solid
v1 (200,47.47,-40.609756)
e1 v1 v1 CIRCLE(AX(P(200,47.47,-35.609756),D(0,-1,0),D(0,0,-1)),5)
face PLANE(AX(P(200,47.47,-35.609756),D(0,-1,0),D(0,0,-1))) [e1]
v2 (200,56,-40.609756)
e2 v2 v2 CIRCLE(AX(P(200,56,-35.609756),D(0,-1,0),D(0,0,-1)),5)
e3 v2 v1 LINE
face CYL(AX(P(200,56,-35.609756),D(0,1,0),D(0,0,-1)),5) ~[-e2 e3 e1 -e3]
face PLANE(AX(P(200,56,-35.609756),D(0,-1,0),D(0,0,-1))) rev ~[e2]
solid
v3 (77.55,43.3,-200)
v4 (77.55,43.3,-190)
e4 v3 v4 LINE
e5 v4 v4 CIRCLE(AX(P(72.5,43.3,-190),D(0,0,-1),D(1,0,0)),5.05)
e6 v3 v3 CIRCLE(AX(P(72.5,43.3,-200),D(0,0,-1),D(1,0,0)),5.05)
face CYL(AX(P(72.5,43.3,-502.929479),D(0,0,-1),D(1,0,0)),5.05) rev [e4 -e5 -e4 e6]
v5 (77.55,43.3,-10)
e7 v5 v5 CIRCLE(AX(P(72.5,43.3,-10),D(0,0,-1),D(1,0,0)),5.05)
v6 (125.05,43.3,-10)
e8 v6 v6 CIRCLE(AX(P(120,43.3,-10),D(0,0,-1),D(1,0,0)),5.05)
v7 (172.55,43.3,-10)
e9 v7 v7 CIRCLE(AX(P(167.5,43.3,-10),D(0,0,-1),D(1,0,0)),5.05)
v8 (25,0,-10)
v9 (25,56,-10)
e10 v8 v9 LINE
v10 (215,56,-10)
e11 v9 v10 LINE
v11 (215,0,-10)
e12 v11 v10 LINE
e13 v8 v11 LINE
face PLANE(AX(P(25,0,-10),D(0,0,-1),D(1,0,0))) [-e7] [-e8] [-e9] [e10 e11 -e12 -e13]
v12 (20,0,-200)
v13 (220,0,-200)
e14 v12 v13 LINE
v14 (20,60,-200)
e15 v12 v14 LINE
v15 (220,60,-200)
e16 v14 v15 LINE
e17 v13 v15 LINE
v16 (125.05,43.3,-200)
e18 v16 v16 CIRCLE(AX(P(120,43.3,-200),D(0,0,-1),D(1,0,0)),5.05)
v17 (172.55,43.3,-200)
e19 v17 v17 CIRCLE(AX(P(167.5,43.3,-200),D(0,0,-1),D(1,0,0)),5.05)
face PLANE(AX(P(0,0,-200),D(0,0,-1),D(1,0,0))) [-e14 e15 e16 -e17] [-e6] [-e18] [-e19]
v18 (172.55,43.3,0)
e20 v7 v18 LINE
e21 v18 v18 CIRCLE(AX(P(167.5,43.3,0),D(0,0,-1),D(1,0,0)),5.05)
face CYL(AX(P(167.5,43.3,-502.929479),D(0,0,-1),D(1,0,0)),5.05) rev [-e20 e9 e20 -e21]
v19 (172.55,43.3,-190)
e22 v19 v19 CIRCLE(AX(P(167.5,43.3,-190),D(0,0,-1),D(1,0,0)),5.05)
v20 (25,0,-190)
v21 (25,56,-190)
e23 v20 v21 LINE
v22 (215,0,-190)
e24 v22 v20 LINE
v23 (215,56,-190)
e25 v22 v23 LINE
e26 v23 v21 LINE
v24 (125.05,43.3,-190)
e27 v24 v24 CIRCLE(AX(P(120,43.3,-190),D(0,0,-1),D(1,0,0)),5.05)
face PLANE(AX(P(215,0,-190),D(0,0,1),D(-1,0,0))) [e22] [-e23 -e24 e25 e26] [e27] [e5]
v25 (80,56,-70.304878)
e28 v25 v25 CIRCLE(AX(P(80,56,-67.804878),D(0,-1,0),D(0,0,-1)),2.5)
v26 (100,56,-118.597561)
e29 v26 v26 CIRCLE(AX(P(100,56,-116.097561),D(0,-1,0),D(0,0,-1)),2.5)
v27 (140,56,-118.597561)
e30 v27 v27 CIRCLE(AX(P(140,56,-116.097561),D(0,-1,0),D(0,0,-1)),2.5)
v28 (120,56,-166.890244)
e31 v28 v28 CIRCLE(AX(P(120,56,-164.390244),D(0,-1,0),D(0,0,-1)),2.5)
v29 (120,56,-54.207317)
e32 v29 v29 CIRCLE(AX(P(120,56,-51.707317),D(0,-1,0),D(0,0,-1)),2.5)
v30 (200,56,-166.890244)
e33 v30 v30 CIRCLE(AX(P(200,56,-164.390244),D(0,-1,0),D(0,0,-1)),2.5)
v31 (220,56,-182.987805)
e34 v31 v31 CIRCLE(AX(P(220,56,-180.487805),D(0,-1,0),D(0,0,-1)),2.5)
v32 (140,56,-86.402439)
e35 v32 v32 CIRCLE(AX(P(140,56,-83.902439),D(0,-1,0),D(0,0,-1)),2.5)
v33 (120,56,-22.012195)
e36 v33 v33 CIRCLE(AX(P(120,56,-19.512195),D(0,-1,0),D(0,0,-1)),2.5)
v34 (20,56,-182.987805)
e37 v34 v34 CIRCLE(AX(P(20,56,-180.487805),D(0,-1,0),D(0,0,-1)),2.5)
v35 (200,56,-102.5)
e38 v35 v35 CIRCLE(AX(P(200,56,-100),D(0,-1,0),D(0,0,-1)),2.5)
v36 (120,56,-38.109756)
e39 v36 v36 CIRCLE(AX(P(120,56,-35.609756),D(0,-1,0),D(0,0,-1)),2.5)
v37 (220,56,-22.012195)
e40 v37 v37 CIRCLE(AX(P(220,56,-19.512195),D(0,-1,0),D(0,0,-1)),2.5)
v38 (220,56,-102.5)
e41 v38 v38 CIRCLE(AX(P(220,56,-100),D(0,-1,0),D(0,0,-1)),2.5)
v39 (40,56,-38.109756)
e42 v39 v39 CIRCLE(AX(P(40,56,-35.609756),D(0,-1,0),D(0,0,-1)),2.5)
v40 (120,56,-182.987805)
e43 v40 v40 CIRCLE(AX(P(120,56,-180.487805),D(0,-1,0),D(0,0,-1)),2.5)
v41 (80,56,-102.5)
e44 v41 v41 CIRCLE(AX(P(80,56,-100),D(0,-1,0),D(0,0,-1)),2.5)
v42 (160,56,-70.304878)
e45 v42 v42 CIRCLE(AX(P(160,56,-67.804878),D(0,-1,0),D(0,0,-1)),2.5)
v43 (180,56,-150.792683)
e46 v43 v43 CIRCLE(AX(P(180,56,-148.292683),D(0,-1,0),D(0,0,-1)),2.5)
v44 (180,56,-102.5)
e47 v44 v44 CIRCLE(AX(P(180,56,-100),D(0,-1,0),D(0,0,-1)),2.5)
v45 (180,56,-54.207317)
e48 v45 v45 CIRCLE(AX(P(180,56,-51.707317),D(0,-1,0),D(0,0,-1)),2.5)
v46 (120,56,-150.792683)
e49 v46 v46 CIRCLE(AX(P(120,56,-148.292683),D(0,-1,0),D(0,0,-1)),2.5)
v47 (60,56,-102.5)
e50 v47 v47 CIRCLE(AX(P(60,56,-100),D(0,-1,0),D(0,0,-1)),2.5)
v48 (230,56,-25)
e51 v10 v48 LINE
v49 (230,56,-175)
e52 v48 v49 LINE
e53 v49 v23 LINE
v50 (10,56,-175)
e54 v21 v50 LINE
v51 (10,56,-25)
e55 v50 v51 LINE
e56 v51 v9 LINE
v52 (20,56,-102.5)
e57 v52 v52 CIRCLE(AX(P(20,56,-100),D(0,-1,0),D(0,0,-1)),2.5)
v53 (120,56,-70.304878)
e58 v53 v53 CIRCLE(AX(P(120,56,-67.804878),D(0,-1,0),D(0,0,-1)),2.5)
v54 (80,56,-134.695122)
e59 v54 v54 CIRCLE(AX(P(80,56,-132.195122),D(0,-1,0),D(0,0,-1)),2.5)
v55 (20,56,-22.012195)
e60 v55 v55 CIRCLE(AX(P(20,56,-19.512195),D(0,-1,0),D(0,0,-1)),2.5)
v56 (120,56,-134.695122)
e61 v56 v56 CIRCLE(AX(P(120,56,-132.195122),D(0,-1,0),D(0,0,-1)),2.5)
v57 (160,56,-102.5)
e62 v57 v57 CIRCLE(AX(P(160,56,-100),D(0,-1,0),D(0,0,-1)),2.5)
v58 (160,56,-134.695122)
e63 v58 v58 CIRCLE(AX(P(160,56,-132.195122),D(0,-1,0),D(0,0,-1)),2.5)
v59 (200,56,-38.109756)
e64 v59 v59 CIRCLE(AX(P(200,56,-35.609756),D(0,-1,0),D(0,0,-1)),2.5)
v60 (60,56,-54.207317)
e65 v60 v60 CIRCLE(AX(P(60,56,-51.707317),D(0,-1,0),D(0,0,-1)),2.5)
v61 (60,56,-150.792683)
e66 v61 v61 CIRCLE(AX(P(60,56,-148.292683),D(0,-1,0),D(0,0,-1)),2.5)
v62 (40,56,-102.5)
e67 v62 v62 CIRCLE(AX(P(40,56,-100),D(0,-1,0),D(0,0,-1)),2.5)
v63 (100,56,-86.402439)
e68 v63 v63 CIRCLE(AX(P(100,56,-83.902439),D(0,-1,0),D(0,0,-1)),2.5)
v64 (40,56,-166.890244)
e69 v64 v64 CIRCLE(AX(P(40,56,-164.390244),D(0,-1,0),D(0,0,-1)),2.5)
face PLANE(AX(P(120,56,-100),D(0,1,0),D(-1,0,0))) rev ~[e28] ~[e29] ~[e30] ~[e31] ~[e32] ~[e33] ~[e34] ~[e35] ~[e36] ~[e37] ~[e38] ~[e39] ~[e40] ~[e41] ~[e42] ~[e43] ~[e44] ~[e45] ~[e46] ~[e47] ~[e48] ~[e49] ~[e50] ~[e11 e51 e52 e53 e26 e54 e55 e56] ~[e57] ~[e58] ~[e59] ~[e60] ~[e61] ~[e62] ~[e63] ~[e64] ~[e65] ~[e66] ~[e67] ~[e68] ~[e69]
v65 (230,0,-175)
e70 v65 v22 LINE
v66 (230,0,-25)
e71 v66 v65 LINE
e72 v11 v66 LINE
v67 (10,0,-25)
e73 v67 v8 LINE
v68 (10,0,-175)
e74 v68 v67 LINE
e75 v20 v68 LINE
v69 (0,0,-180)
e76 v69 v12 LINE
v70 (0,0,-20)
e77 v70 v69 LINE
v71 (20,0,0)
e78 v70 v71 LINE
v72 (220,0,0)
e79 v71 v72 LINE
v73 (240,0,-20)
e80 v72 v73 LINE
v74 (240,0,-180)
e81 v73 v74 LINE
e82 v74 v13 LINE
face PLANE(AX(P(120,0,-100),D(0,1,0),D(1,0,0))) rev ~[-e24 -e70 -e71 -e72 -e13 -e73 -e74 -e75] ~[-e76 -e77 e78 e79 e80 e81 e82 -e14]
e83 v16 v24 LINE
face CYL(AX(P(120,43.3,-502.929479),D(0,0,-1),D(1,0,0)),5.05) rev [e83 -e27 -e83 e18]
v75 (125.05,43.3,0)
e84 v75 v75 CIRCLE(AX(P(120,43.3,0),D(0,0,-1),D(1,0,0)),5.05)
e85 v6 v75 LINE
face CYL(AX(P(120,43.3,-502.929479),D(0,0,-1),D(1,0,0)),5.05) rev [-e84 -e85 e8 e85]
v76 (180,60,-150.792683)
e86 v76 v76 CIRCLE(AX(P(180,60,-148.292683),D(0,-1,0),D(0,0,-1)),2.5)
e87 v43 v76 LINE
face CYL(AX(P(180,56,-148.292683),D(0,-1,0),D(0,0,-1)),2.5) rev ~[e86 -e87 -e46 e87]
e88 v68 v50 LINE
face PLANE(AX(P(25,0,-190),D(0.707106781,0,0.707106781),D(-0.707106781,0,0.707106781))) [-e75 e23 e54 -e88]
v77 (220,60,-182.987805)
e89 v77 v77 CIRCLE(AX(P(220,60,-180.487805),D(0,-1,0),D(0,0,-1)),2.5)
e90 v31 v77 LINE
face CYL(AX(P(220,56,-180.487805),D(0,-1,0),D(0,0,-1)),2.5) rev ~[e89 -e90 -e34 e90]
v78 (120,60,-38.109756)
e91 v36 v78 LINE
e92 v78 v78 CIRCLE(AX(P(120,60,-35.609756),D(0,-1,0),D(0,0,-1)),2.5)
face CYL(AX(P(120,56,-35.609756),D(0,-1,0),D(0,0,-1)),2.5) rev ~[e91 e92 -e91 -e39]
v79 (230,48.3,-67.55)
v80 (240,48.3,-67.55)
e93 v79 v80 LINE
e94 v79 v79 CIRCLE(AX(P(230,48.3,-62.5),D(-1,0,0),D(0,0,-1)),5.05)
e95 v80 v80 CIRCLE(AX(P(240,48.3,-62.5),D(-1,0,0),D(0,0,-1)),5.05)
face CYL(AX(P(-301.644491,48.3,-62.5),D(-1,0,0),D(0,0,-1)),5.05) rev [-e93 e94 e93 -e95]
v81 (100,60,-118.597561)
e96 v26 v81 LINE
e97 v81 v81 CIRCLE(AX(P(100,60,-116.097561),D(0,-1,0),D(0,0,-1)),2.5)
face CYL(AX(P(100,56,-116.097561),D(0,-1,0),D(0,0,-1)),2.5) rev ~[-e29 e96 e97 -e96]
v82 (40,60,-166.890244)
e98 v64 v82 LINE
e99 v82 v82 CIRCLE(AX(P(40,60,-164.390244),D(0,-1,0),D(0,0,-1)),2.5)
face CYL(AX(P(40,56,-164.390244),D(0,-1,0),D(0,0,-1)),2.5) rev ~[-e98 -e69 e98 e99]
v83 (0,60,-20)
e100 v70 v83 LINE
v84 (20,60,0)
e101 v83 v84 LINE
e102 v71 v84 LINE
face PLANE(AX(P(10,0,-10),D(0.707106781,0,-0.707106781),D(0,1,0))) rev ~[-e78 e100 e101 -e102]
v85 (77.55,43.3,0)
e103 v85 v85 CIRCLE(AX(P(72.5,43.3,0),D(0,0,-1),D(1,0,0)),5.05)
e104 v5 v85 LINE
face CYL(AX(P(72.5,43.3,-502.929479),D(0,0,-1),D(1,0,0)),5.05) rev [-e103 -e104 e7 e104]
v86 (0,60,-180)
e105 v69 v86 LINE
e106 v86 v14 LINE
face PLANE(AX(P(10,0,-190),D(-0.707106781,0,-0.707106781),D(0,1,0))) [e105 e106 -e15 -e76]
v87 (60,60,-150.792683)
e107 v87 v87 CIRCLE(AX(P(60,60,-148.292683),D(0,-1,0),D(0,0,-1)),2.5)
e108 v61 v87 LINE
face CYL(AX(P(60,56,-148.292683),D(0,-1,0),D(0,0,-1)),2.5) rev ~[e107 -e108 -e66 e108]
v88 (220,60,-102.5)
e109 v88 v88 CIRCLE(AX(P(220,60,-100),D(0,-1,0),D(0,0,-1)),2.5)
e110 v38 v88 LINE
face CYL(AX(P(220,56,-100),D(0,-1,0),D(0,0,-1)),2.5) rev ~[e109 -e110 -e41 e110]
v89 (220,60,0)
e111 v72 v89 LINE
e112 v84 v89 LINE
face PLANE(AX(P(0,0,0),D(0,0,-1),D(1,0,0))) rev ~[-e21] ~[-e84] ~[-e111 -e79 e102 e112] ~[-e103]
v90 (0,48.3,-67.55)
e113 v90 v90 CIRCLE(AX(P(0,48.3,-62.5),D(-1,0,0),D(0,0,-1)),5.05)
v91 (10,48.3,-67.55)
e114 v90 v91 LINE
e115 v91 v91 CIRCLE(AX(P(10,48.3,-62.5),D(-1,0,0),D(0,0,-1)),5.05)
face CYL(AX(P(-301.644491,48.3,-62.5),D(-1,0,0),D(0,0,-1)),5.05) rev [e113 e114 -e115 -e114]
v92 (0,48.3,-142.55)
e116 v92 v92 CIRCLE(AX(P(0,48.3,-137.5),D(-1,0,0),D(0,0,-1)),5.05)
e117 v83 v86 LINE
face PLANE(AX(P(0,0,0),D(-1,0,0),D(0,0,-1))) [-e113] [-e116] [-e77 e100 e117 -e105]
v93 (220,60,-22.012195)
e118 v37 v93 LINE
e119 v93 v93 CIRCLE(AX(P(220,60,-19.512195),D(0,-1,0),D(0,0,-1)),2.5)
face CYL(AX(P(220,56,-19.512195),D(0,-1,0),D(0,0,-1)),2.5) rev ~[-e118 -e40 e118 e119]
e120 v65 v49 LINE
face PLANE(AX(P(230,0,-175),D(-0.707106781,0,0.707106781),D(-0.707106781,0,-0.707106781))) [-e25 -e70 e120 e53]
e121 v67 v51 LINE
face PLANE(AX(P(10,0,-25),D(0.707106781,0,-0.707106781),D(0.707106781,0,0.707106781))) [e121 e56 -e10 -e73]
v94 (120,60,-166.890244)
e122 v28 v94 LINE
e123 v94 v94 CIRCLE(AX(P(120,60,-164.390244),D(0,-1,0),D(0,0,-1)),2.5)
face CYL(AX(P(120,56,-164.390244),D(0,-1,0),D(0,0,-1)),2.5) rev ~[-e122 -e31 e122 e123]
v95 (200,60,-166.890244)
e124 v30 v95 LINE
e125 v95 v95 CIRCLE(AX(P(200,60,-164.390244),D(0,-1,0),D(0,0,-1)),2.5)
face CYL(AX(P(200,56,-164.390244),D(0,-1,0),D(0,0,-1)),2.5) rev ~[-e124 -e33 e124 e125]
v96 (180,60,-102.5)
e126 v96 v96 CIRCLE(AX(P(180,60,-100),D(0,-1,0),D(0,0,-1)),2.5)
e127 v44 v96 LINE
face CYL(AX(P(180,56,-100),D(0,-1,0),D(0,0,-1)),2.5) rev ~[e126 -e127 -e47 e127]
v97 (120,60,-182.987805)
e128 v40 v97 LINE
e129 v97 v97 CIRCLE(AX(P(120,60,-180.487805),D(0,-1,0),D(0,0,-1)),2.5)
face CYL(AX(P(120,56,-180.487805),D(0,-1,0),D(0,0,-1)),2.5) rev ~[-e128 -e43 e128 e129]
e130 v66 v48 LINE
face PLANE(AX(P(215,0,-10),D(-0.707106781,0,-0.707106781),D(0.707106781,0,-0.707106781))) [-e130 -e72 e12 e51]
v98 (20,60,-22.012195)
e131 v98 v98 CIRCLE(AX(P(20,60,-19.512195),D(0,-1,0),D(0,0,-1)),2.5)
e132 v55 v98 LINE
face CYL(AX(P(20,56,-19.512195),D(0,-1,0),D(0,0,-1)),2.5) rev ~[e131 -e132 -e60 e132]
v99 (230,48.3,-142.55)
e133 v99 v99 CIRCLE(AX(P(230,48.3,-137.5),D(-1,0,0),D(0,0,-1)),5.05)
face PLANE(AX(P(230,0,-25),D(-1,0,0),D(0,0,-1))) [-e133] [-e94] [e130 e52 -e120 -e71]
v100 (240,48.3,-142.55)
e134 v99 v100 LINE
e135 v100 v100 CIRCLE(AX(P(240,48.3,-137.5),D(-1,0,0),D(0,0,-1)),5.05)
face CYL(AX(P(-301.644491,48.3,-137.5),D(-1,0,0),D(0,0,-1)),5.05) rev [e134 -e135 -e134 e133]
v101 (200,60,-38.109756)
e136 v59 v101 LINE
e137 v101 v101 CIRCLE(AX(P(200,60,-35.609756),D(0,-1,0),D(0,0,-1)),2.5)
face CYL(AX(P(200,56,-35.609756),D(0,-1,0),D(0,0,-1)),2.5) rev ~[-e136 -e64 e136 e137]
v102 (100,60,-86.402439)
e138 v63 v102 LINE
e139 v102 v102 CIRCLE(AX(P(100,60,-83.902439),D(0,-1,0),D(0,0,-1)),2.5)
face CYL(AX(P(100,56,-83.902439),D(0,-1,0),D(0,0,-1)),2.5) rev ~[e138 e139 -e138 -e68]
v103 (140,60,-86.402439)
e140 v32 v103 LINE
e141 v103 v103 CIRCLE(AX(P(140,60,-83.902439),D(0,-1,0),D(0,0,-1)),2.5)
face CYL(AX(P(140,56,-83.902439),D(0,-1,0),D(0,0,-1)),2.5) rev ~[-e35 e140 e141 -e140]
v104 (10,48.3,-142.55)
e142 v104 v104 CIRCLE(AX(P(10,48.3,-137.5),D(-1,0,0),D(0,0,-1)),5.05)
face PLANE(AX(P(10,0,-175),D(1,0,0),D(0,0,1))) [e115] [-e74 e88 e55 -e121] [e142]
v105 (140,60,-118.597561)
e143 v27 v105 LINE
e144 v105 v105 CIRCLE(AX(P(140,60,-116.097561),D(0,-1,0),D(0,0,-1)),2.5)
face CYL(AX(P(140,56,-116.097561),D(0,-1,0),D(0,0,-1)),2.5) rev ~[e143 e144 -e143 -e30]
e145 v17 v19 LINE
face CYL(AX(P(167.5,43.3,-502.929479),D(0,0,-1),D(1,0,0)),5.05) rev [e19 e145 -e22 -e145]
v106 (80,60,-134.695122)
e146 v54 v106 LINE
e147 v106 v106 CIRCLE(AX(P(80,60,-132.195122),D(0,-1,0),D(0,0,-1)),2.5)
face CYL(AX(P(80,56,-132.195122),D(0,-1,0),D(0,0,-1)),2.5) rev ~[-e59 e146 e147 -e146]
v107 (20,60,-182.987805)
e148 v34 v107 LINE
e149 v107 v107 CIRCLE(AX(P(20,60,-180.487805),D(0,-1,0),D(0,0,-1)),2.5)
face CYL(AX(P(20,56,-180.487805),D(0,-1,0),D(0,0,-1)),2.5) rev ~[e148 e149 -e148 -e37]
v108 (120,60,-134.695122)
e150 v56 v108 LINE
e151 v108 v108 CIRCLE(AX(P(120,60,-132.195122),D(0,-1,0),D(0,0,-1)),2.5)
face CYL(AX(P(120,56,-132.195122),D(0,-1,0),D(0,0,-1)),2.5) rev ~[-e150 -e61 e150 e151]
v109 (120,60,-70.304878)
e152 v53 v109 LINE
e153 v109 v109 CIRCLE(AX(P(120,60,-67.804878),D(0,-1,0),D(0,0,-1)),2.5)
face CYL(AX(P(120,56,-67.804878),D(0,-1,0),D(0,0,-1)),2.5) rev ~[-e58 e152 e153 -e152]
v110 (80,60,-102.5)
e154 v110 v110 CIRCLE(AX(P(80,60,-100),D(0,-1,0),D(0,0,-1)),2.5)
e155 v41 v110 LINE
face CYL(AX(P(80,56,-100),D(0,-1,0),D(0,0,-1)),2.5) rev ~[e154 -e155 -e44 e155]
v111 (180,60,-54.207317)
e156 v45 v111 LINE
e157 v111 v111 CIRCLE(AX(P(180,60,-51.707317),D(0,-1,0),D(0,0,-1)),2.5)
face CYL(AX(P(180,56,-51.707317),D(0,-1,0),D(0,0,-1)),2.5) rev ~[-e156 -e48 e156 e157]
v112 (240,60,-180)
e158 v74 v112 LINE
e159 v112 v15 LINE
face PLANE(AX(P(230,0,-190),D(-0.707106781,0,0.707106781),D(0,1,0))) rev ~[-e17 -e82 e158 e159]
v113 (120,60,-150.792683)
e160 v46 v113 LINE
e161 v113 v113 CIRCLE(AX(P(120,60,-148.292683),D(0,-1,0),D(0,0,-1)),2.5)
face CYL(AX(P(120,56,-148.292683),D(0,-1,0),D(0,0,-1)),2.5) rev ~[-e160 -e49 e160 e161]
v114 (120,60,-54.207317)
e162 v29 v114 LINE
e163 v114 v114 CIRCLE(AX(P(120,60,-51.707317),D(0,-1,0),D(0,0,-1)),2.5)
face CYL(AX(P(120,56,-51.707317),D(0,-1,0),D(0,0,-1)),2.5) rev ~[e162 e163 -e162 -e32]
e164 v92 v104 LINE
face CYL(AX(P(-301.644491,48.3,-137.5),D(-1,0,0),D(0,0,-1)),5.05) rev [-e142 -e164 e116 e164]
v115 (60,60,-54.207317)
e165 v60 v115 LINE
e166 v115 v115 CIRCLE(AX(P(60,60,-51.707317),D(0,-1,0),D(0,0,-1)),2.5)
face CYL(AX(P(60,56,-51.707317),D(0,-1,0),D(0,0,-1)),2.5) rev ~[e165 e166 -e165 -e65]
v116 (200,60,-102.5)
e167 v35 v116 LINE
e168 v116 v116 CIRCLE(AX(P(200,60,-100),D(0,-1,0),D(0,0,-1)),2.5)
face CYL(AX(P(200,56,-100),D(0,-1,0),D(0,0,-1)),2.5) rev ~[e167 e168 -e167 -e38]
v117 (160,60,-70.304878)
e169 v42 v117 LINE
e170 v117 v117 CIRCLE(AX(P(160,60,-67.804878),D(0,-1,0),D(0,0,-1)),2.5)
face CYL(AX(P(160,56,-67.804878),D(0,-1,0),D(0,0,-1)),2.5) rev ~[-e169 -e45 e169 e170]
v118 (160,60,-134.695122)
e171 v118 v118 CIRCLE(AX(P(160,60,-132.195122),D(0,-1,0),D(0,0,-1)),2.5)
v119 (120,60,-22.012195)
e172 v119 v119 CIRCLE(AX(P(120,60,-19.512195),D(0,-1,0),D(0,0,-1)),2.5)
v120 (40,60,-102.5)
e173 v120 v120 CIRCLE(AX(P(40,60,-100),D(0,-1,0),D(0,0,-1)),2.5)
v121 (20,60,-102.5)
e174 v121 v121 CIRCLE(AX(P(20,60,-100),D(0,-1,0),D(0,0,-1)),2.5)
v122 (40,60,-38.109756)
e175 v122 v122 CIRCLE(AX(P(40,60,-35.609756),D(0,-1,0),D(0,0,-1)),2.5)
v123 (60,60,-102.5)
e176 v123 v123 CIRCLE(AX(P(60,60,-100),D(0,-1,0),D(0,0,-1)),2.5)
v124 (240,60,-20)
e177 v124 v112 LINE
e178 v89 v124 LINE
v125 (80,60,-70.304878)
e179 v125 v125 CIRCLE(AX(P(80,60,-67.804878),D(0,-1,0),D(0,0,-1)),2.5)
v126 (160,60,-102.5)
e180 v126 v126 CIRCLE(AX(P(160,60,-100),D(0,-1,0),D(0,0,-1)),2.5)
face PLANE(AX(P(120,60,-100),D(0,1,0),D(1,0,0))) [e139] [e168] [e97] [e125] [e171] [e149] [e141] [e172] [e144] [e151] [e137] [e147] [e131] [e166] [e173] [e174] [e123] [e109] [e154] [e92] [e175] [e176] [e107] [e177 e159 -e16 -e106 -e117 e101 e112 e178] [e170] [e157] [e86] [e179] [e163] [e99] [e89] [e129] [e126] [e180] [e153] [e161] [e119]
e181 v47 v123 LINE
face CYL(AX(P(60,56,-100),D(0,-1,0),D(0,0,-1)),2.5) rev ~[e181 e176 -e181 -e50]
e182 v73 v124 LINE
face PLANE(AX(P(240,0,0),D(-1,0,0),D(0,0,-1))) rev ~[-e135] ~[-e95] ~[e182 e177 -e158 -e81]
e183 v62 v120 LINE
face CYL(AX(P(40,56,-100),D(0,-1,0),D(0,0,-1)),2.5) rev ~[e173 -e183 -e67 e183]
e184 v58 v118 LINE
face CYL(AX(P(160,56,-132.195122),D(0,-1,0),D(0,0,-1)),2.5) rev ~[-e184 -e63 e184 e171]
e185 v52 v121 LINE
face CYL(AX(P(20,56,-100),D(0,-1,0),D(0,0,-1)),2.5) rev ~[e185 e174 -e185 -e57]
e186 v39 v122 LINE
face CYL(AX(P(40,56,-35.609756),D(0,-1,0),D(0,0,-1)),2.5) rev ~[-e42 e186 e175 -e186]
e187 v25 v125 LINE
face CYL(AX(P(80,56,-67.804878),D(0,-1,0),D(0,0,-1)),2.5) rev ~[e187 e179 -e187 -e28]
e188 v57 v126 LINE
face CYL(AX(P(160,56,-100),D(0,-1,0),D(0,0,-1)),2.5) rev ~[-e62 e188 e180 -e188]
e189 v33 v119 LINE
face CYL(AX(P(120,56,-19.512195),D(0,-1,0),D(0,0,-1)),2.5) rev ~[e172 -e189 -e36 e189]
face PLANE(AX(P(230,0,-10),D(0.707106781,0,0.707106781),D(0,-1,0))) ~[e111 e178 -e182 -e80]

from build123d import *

# Parameters (mm, degrees)
SKETCH1_W                = 240
SKETCH1_H                = 200
BOSS_EXTRUDE1_DEPTH      = 60
CHAMFER1_SIZE            = 20
CUT_EXTRUDE1_DEPTH       = 56
SKETCH21_R               = 2.5
CUT_EXTRUDE16_DEPTH      = 54
CUT_EXTRUDE17_DEPTH      = 312.92947921
CUT_EXTRUDE17_DEPTH_BACK = 312.92947921
SKETCH24_R               = 5.05
CUT_EXTRUDE18_DEPTH      = 311.64449134
CUT_EXTRUDE18_DEPTH_BACK = 311.64449134
SKETCH27_R               = 5.05
SKETCH30_R               = 5
BOSS_EXTRUDE2_DEPTH      = 8.53


with BuildPart() as part:
    # Sketch1 → Boss-Extrude1 (new body)
    with BuildSketch(Plane(origin=(0, 0, 0), x_dir=(1, 0, 0), z_dir=(0, 1, 0))):
        with Locations((120, 100)):
            Rectangle(SKETCH1_W, SKETCH1_H)
    extrude(amount=BOSS_EXTRUDE1_DEPTH)

    # Chamfer1
    chamfer1_edges = [part.edges().sort_by_distance(p)[0] for p in [
        (0, 30, -200),
        (240, 30, -200),
        (240, 30, 0),
        (0, 30, 0),
    ]]
    chamfer(chamfer1_edges, length=CHAMFER1_SIZE)

    # Sketch2 → Cut-Extrude1 (cut)
    with BuildSketch(Plane.XZ):
        Polygon((10, -175), (10, -25), (25, -10), (215, -10), (230, -25), (230, -175), (215, -190), (25, -190), align=None)
    extrude(amount=-CUT_EXTRUDE1_DEPTH, mode=Mode.SUBTRACT)

    # Sketch21 → Cut-Extrude16 (cut)
    with BuildSketch(Plane.XZ.offset(-56)):
        with Locations(Location((20, -19.512195122, 0), (0, 0, 270))):
            Circle(SKETCH21_R)
        with Locations(Location((40, -35.609756098, 0), (0, 0, 270))):
            Circle(SKETCH21_R)
        with Locations(Location((60, -51.707317073, 0), (0, 0, 270))):
            Circle(SKETCH21_R)
        with Locations(Location((80, -67.804878049, 0), (0, 0, 270))):
            Circle(SKETCH21_R)
        with Locations(Location((100, -83.902439024, 0), (0, 0, 270))):
            Circle(SKETCH21_R)
        with Locations(Location((120, -19.512195122, 0), (0, 0, 270))):
            Circle(SKETCH21_R)
        with Locations(Location((120, -35.609756098, 0), (0, 0, 270))):
            Circle(SKETCH21_R)
        with Locations(Location((120, -51.707317073, 0), (0, 0, 270))):
            Circle(SKETCH21_R)
        with Locations(Location((120, -67.804878049, 0), (0, 0, 270))):
            Circle(SKETCH21_R)
        with Locations(Location((140, -83.902439024, 0), (0, 0, 270))):
            Circle(SKETCH21_R)
        with Locations(Location((160, -67.804878049, 0), (0, 0, 270))):
            Circle(SKETCH21_R)
        with Locations(Location((180, -51.707317073, 0), (0, 0, 270))):
            Circle(SKETCH21_R)
        with Locations(Location((200, -35.609756098, 0), (0, 0, 270))):
            Circle(SKETCH21_R)
        with Locations(Location((220, -19.512195122, 0), (0, 0, 270))):
            Circle(SKETCH21_R)
        with Locations(Location((220, -100, 0), (0, 0, 270))):
            Circle(SKETCH21_R)
        with Locations(Location((200, -100, 0), (0, 0, 270))):
            Circle(SKETCH21_R)
        with Locations(Location((180, -100, 0), (0, 0, 270))):
            Circle(SKETCH21_R)
        with Locations(Location((160, -100, 0), (0, 0, 270))):
            Circle(SKETCH21_R)
        with Locations(Location((140, -116.097560976, 0), (0, 0, 270))):
            Circle(SKETCH21_R)
        with Locations(Location((160, -132.195121951, 0), (0, 0, 270))):
            Circle(SKETCH21_R)
        with Locations(Location((180, -148.292682927, 0), (0, 0, 270))):
            Circle(SKETCH21_R)
        with Locations(Location((200, -164.390243902, 0), (0, 0, 270))):
            Circle(SKETCH21_R)
        with Locations(Location((220, -180.487804878, 0), (0, 0, 270))):
            Circle(SKETCH21_R)
        with Locations(Location((120, -180.487804878, 0), (0, 0, 270))):
            Circle(SKETCH21_R)
        with Locations(Location((120, -164.390243902, 0), (0, 0, 270))):
            Circle(SKETCH21_R)
        with Locations(Location((120, -148.292682927, 0), (0, 0, 270))):
            Circle(SKETCH21_R)
        with Locations(Location((120, -132.195121951, 0), (0, 0, 270))):
            Circle(SKETCH21_R)
        with Locations(Location((100, -116.097560976, 0), (0, 0, 270))):
            Circle(SKETCH21_R)
        with Locations(Location((80, -132.195121951, 0), (0, 0, 270))):
            Circle(SKETCH21_R)
        with Locations(Location((60, -148.292682927, 0), (0, 0, 270))):
            Circle(SKETCH21_R)
        with Locations(Location((40, -164.390243902, 0), (0, 0, 270))):
            Circle(SKETCH21_R)
        with Locations(Location((20, -180.487804878, 0), (0, 0, 270))):
            Circle(SKETCH21_R)
        with Locations(Location((20, -100, 0), (0, 0, 270))):
            Circle(SKETCH21_R)
        with Locations(Location((40, -100, 0), (0, 0, 270))):
            Circle(SKETCH21_R)
        with Locations(Location((60, -100, 0), (0, 0, 270))):
            Circle(SKETCH21_R)
        with Locations(Location((80, -100, 0), (0, 0, 270))):
            Circle(SKETCH21_R)
    extrude(amount=-CUT_EXTRUDE16_DEPTH, mode=Mode.SUBTRACT)

    # Sketch24 → Cut-Extrude17 (cut, two sides: drawn at the far end of the back side and taken through both)
    with BuildSketch(Plane.XY.offset(-190).offset(-CUT_EXTRUDE17_DEPTH_BACK)):
        with Locations((120, 43.3)):
            Circle(SKETCH24_R)
        with Locations((72.5, 43.3)):
            Circle(SKETCH24_R)
        with Locations((167.5, 43.3)):
            Circle(SKETCH24_R)
    extrude(amount=CUT_EXTRUDE17_DEPTH + CUT_EXTRUDE17_DEPTH_BACK, mode=Mode.SUBTRACT)

    # Sketch27 → Cut-Extrude18 (cut, two sides: drawn at the far end of the back side and taken through both)
    with BuildSketch(Plane(origin=(10, 0, 0), x_dir=(0, 0, -1), z_dir=(1, 0, 0)).offset(-CUT_EXTRUDE18_DEPTH_BACK)):
        with Locations((62.5, 48.3)):
            Circle(SKETCH27_R)
        with Locations((137.5, 48.3)):
            Circle(SKETCH27_R)
    extrude(amount=CUT_EXTRUDE18_DEPTH + CUT_EXTRUDE18_DEPTH_BACK, mode=Mode.SUBTRACT)


with BuildPart() as body_2:
    # Sketch30 → Boss-Extrude2 (new body)
    with BuildSketch(Plane.XZ.offset(-56)):
        with Locations(Location((200, -35.609756098, 0), (0, 0, 270))):
            Circle(SKETCH30_R)
    extrude(amount=BOSS_EXTRUDE2_DEPTH)


solid = Compound([part.part, body_2.part])
